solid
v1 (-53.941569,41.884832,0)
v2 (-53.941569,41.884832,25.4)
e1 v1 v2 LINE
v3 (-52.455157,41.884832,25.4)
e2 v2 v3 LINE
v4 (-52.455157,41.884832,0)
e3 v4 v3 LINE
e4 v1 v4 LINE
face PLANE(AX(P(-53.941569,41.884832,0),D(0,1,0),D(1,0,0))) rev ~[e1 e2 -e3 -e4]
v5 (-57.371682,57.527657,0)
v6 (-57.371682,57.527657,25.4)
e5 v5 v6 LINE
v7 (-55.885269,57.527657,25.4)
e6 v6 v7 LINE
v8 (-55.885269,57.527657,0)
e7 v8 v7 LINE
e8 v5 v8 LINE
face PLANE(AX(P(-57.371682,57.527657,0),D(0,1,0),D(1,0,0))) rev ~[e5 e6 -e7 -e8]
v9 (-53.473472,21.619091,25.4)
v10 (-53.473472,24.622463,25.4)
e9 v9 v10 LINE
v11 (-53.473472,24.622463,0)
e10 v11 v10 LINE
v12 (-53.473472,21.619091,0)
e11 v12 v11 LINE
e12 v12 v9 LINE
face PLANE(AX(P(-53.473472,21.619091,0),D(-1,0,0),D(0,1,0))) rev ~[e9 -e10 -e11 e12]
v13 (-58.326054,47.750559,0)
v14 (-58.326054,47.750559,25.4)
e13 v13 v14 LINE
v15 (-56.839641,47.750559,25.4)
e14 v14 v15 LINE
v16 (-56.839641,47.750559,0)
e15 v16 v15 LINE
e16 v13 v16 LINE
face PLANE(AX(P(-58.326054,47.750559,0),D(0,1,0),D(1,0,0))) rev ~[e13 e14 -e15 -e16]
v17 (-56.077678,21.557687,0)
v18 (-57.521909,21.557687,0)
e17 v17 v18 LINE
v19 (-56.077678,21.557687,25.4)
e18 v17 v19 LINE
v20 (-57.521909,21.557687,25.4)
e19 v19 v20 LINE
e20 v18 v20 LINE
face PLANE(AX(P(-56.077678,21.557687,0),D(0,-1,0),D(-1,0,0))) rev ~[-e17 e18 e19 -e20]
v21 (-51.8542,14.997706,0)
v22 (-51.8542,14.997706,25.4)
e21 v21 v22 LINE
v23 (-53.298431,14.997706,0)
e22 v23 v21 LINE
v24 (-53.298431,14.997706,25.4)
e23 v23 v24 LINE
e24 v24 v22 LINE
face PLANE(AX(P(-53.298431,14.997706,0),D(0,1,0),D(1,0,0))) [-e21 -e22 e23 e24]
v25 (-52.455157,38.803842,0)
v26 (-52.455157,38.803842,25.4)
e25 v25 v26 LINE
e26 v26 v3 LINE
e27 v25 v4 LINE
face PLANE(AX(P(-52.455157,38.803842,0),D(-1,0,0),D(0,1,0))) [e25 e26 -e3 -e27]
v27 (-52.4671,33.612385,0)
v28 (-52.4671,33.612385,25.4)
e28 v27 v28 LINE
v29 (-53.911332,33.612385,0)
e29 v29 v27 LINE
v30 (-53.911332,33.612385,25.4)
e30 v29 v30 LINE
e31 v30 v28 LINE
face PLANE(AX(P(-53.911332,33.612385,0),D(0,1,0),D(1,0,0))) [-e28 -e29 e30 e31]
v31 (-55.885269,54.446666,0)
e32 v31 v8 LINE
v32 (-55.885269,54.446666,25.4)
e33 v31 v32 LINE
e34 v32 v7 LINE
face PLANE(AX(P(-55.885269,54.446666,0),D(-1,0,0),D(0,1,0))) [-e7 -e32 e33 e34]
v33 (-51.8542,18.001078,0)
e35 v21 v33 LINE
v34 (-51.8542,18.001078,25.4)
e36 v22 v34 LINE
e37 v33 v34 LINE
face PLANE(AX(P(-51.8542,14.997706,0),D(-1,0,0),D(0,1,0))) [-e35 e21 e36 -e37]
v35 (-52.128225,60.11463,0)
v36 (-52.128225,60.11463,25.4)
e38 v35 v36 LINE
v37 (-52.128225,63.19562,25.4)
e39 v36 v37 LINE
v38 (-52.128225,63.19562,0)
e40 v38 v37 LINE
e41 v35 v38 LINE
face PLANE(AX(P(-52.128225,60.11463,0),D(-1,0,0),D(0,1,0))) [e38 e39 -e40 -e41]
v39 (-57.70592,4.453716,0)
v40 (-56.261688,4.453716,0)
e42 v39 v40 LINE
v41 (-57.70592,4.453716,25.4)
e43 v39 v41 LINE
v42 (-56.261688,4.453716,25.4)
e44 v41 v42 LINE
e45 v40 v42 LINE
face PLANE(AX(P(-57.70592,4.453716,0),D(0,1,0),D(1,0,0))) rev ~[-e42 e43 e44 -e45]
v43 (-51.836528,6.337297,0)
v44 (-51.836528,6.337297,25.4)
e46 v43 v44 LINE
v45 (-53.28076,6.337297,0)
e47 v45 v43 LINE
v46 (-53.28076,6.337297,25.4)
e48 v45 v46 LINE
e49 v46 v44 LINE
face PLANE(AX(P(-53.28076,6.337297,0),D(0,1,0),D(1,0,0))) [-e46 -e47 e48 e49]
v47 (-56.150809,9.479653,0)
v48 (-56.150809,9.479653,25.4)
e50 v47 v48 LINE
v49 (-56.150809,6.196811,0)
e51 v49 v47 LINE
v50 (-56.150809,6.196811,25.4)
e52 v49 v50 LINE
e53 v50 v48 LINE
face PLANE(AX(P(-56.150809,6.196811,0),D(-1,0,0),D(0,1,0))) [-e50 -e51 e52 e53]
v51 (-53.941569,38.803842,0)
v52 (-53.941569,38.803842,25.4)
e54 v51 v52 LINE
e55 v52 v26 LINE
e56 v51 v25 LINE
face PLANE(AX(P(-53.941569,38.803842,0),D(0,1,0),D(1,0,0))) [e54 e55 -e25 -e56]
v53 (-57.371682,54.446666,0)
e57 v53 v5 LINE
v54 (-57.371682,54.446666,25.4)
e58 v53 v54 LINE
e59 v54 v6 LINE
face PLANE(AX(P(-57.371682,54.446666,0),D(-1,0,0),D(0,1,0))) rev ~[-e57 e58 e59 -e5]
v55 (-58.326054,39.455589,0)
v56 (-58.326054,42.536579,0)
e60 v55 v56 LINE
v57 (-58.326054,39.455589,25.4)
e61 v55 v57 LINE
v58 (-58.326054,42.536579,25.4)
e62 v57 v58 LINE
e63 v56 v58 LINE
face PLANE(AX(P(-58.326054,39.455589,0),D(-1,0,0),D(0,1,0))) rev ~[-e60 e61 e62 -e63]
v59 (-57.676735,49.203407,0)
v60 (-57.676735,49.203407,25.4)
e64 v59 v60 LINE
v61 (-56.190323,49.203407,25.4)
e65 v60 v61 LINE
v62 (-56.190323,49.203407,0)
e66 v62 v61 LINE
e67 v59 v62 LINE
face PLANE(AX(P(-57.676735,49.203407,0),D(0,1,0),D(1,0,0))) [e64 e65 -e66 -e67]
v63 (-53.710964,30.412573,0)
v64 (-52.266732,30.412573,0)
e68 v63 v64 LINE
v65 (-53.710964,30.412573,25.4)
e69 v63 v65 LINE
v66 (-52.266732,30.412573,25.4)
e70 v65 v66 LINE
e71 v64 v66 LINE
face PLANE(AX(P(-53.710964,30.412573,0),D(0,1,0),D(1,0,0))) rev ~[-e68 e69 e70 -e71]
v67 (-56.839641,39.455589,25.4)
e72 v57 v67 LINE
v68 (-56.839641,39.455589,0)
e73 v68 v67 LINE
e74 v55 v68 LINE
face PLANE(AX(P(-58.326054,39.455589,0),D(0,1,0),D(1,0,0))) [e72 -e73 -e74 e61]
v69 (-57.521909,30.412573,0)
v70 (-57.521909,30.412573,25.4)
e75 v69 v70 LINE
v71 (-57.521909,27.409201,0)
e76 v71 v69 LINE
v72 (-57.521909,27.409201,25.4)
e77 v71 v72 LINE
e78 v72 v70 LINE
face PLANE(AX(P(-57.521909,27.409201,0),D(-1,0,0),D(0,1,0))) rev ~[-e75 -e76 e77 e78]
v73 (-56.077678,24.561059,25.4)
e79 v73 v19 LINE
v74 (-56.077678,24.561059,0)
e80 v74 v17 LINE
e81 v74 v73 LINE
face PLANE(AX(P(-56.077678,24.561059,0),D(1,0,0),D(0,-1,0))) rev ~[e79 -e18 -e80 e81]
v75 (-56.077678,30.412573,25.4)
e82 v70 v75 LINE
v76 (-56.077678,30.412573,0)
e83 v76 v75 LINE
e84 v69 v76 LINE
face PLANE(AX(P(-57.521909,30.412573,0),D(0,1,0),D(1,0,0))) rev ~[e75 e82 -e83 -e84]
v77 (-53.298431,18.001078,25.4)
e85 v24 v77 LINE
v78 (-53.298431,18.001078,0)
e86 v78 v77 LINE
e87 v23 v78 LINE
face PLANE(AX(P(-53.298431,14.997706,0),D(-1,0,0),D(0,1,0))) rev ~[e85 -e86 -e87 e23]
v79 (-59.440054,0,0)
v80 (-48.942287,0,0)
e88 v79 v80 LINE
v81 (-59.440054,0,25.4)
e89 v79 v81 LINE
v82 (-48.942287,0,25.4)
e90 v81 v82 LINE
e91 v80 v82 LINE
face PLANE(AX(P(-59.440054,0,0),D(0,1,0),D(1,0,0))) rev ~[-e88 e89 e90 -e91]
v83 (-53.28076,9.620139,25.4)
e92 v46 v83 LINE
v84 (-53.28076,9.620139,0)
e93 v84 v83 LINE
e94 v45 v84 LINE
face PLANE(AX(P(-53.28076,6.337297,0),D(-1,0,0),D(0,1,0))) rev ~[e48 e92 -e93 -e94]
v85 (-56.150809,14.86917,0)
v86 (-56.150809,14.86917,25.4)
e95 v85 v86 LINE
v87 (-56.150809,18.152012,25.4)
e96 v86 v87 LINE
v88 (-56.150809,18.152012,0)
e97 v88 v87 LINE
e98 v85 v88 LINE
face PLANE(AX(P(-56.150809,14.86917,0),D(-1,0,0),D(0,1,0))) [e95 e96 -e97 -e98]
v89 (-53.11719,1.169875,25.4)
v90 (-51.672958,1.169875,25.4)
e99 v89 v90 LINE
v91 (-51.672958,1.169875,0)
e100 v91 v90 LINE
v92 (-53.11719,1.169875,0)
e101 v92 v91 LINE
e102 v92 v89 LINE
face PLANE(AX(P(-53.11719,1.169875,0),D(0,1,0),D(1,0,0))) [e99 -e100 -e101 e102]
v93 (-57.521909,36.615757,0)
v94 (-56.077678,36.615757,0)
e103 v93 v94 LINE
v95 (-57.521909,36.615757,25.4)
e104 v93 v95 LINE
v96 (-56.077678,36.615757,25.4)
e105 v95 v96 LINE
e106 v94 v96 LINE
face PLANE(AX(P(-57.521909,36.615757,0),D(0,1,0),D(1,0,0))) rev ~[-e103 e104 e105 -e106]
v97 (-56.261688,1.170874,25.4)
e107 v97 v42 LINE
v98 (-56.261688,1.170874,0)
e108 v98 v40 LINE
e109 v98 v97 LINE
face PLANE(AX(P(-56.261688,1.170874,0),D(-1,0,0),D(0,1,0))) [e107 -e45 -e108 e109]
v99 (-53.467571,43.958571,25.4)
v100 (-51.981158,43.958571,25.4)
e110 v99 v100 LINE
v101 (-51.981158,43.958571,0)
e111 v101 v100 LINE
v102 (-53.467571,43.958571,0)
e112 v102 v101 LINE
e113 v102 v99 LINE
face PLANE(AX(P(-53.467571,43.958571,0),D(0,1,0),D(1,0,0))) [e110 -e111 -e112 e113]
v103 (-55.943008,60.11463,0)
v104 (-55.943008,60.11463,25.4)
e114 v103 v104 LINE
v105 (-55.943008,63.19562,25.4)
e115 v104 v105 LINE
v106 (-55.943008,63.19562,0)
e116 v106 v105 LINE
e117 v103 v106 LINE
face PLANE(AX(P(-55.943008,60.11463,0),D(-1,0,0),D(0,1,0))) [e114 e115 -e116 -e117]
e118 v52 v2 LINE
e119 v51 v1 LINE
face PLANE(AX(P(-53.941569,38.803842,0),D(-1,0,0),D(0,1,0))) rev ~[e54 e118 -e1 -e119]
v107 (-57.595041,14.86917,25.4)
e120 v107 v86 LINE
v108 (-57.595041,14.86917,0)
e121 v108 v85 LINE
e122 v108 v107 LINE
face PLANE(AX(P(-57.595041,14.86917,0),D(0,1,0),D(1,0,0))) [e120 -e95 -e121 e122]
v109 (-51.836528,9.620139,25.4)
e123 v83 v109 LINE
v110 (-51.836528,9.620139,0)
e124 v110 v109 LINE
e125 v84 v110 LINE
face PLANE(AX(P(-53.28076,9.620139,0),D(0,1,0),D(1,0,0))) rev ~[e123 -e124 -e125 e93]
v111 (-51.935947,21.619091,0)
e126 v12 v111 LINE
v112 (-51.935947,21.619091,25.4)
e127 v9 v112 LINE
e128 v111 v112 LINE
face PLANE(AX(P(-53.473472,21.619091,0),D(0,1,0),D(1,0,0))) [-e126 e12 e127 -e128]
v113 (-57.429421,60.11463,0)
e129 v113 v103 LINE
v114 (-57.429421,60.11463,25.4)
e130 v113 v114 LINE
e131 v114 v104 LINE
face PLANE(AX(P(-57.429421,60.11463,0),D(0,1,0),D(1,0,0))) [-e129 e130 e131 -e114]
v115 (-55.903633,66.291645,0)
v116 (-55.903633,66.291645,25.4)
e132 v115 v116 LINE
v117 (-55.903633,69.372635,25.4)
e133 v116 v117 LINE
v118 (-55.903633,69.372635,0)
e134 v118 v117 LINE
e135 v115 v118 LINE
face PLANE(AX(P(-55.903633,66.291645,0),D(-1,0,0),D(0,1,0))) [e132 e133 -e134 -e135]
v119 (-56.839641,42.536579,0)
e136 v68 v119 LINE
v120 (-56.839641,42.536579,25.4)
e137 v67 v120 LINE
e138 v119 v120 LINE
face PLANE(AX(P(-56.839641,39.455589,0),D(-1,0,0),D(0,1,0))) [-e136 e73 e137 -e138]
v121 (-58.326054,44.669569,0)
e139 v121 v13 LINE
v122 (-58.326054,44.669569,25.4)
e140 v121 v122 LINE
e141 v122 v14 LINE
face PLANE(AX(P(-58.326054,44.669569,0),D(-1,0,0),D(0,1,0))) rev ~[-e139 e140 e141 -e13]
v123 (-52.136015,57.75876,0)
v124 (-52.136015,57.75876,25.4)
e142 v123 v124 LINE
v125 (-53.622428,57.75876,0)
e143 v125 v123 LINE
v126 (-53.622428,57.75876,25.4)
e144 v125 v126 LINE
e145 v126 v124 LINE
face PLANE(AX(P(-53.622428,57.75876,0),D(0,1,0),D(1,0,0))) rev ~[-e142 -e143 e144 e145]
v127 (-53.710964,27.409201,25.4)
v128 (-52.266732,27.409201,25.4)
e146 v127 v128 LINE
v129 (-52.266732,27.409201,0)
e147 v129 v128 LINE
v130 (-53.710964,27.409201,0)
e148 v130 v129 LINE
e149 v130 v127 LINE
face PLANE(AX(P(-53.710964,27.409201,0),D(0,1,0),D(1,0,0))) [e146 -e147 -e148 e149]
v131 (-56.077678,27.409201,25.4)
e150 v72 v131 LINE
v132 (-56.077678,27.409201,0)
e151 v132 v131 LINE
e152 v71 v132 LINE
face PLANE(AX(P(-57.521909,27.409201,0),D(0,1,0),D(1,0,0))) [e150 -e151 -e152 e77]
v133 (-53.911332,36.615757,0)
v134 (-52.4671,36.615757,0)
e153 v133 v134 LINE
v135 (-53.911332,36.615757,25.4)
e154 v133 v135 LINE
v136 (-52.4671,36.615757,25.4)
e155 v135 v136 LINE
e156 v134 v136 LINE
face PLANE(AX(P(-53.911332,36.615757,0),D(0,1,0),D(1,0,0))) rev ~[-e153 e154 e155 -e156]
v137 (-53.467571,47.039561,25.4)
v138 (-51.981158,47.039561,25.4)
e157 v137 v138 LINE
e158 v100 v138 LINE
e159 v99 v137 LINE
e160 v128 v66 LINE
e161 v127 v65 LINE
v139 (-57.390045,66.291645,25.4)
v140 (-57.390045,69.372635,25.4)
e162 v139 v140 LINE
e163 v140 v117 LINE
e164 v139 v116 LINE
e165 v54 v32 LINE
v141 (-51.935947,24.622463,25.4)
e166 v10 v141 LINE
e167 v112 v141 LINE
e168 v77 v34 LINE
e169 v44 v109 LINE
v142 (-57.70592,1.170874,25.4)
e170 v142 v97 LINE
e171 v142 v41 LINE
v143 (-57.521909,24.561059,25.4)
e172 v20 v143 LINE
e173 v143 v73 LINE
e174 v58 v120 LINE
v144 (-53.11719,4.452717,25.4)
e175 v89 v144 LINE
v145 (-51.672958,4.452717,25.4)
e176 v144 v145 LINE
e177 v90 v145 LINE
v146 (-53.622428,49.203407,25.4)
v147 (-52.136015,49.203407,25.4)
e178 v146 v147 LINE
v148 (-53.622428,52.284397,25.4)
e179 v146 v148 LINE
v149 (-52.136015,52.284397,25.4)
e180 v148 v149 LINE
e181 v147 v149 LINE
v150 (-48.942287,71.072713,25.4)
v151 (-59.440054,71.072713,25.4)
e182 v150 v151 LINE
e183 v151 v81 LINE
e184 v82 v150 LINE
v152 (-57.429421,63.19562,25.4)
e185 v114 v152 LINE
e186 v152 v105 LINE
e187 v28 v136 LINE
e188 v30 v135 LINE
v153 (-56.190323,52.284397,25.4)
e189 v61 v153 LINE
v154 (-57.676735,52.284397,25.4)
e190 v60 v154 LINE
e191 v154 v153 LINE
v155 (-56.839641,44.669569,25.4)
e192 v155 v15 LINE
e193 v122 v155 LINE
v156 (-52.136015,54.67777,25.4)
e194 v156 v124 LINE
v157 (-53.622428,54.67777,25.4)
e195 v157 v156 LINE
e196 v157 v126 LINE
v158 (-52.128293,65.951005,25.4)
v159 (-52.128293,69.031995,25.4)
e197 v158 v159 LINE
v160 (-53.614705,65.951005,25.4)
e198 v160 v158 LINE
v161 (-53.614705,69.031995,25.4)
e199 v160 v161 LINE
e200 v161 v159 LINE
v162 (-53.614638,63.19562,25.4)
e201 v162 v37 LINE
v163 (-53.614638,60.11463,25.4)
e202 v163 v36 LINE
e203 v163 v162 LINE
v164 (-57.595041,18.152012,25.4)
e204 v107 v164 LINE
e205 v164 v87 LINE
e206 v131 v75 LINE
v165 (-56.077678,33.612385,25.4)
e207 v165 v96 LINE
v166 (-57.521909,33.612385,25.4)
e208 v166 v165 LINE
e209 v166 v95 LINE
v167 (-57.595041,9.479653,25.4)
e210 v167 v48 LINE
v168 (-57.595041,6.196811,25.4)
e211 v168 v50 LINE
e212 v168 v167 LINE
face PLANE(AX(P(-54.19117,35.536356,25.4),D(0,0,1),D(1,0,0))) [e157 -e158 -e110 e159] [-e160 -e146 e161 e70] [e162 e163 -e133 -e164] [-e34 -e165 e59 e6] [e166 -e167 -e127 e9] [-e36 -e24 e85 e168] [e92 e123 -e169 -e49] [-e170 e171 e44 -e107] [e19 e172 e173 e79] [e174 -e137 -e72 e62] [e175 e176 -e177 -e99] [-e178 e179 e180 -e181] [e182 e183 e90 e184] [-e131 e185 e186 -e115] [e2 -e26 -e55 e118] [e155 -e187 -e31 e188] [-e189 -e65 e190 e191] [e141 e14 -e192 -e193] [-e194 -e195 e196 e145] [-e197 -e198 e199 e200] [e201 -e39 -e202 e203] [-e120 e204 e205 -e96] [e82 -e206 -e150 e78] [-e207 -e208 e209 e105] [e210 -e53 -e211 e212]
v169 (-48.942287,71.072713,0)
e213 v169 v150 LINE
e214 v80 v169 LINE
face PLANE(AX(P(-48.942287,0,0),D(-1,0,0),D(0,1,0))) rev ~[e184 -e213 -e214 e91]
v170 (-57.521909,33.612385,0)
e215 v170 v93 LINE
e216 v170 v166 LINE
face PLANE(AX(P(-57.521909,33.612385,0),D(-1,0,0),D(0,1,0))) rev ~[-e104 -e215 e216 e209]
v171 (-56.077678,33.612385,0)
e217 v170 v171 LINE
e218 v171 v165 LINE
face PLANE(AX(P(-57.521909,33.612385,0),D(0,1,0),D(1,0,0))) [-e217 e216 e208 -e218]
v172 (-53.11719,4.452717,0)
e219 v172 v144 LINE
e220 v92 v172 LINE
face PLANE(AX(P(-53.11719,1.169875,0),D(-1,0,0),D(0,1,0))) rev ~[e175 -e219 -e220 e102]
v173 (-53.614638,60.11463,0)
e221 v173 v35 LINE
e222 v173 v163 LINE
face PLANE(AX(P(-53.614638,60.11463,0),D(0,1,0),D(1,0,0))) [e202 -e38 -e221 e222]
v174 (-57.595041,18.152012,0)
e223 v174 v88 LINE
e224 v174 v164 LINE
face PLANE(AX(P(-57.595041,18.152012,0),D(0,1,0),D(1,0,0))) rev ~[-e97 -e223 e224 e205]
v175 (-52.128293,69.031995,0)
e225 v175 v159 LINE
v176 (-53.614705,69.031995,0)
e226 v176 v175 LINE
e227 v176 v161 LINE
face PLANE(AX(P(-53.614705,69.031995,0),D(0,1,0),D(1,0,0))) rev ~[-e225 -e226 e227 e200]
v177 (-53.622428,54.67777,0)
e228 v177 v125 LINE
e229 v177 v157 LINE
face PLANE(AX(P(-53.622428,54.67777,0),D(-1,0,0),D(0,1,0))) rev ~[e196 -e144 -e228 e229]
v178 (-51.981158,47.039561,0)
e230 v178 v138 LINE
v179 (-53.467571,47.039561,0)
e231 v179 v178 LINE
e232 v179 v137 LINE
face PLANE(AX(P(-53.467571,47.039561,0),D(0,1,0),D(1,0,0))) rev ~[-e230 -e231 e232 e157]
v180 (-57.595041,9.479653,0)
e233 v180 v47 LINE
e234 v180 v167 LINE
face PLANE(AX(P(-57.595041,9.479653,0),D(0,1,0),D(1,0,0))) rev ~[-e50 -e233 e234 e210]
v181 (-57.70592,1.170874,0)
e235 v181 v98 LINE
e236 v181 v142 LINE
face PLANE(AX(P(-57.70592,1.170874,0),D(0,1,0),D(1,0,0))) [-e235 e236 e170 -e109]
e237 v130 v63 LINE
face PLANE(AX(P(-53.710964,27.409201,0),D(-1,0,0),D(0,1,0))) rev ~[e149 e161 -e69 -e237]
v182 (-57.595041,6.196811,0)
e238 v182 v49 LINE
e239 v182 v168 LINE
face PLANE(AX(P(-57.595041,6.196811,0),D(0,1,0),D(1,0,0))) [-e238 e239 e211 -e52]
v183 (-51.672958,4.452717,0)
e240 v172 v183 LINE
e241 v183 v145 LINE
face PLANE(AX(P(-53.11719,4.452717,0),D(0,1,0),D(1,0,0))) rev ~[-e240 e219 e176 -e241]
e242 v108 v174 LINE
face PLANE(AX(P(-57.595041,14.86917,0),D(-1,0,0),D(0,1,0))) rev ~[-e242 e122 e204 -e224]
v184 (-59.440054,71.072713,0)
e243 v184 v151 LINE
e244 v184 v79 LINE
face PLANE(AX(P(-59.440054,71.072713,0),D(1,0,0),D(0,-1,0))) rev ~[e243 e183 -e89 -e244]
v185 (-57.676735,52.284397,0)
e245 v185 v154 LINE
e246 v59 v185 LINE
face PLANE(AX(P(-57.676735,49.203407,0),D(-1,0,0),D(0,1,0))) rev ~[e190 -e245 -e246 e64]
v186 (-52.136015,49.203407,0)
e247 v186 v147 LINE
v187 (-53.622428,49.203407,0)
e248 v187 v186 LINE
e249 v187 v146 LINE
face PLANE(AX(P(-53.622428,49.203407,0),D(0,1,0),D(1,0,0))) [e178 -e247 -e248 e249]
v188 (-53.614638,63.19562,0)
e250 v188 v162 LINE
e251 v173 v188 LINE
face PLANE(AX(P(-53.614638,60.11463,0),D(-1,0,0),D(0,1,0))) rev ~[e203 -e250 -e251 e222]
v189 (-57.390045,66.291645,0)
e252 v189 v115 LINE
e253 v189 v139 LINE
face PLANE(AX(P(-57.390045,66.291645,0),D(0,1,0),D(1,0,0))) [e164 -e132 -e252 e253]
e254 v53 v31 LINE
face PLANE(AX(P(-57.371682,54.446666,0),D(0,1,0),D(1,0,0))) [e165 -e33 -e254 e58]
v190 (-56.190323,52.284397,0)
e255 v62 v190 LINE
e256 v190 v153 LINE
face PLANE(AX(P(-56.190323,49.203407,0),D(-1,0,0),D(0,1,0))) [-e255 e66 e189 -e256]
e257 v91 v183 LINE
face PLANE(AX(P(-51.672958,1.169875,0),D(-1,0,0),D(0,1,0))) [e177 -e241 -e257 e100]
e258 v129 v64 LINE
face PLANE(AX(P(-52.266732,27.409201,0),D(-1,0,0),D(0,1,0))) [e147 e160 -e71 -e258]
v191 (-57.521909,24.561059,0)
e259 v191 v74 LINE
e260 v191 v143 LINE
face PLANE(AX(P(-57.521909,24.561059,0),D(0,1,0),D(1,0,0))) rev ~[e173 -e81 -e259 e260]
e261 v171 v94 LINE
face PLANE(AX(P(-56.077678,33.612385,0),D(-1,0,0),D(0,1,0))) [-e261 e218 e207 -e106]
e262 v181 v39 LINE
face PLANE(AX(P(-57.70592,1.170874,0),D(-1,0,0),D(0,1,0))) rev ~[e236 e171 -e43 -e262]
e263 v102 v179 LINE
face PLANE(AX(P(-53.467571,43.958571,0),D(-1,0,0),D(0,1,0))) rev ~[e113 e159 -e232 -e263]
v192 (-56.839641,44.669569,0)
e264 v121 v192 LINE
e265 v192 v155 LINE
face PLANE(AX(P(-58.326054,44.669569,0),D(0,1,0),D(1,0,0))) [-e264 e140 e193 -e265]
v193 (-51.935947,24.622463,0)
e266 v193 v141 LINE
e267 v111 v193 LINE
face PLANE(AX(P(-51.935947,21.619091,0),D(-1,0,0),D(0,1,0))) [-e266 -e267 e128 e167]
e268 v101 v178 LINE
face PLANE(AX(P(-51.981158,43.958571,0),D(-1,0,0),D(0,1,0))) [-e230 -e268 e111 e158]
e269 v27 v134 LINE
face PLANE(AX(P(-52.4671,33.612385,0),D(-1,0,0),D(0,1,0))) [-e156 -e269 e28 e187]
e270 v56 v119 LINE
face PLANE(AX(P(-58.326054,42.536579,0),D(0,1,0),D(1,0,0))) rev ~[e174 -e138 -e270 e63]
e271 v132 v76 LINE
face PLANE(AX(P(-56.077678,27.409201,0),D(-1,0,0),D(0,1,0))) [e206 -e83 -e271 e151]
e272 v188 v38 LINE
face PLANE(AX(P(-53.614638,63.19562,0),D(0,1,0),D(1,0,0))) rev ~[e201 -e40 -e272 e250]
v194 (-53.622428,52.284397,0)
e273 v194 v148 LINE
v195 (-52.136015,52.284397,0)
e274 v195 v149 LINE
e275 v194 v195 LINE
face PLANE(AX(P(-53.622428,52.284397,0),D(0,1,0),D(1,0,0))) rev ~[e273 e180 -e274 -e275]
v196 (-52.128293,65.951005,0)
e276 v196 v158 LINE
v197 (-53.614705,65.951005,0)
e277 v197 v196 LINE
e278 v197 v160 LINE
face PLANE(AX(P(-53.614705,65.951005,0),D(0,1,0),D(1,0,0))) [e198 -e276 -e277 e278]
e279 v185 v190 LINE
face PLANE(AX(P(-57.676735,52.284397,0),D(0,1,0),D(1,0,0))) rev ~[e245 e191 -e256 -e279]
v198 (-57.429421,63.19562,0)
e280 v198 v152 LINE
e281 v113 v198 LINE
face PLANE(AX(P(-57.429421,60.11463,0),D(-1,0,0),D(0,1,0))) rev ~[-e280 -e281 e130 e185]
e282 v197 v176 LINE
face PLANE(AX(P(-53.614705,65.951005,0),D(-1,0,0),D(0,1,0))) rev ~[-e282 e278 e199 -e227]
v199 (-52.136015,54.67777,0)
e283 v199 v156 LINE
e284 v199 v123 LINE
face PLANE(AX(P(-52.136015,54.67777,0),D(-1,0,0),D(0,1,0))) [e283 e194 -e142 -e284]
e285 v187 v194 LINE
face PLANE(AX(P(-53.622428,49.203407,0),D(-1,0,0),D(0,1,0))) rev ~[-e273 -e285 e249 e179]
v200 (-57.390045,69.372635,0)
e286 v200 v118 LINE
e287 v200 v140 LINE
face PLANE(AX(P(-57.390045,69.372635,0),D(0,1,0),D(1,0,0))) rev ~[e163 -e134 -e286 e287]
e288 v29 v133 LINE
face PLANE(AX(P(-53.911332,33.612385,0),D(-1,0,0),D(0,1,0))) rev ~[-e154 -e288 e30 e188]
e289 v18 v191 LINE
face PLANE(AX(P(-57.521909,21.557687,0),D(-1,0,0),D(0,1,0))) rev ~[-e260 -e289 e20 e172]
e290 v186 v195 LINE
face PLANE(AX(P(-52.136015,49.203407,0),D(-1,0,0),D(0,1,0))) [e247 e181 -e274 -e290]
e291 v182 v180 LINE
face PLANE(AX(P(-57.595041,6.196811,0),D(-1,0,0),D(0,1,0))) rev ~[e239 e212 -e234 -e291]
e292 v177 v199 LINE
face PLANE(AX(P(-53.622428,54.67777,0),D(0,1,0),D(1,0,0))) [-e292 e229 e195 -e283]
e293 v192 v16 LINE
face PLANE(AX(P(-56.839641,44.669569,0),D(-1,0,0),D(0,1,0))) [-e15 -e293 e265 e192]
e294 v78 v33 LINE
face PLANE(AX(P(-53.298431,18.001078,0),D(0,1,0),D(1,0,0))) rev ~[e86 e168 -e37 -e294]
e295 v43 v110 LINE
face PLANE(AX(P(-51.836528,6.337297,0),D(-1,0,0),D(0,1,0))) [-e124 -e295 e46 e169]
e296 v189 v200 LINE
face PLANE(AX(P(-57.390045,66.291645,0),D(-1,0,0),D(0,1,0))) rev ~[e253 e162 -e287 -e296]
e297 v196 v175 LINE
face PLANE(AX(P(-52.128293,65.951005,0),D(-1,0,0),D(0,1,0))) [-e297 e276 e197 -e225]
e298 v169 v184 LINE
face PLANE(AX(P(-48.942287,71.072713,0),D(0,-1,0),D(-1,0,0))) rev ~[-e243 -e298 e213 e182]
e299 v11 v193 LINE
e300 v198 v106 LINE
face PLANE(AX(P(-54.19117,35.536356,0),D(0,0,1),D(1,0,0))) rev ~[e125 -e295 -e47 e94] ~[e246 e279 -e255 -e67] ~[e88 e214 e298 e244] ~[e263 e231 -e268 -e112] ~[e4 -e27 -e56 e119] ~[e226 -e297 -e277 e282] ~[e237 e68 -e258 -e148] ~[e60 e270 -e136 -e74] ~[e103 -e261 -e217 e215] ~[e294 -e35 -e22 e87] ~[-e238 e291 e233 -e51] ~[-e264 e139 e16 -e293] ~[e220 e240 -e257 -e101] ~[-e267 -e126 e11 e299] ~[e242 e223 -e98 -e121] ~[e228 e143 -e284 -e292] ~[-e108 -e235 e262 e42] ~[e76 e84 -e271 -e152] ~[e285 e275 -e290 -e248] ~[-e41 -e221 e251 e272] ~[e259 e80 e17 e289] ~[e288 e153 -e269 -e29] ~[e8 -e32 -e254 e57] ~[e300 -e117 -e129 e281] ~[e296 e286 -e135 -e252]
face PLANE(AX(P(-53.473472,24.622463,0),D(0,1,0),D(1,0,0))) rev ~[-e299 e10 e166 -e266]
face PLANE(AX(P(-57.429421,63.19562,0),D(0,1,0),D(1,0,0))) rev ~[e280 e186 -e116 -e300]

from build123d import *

# Parameters (mm, degrees)
F0_W     = 1.444232
F0_H     = 3.282842
F0_W_2   = 1.444231
F0_H_2   = 3.003372
F0_W_3   = 1.537525
F0_W_4   = 1.486413
F0_H_3   = 3.08099
F0_H_4   = 3.080991
F1_DEPTH = 25.4


with BuildPart() as f1:
    # F0 (on Top) → F1 (new body)
    with BuildSketch(Plane.XY):
        Polygon((-48.942287, 71.072713), (-59.440054, 71.072713), (-59.440054, 0), (-57.754032, 0), (-55.809505, 0), (-52.57833, 0), (-50.541282, 0), (-48.942287, 0), align=None)
        with Locations((-56.983804, 2.812295)):
            Rectangle(F0_W, F0_H, mode=Mode.SUBTRACT)
        with Locations((-56.872925, 7.838232)):
            Rectangle(F0_W, F0_H, mode=Mode.SUBTRACT)
        with Locations((-56.872925, 16.510591)):
            Rectangle(F0_W, F0_H, mode=Mode.SUBTRACT)
        Polygon((-57.521909, 24.464175), (-57.521909, 24.561059), (-56.077678, 24.561059), (-56.077678, 24.464175), (-56.077678, 21.557687), (-57.521909, 21.557687), align=None, mode=Mode.SUBTRACT)
        with Locations((-56.799793, 28.910887)):
            Rectangle(F0_W_2, F0_H_2, mode=Mode.SUBTRACT)
        with Locations((-56.799793, 35.114071)):
            Rectangle(F0_W_2, F0_H_2, mode=Mode.SUBTRACT)
        with Locations((-52.395074, 2.811296)):
            Rectangle(F0_W, F0_H, mode=Mode.SUBTRACT)
        with Locations((-52.558644, 7.978718)):
            Rectangle(F0_W, F0_H, mode=Mode.SUBTRACT)
        with Locations((-52.576316, 16.499392)):
            Rectangle(F0_W_2, F0_H_2, mode=Mode.SUBTRACT)
        with Locations((-52.70471, 23.120777)):
            Rectangle(F0_W_3, F0_H_2, mode=Mode.SUBTRACT)
        with Locations((-52.988848, 28.910887)):
            Rectangle(F0_W, F0_H_2, mode=Mode.SUBTRACT)
        with Locations((-53.189216, 35.114071)):
            Rectangle(F0_W, F0_H_2, mode=Mode.SUBTRACT)
        with Locations((-57.582847, 40.996084)):
            Rectangle(F0_W_4, F0_H_3, mode=Mode.SUBTRACT)
        with Locations((-57.582847, 46.210064)):
            Rectangle(F0_W_4, F0_H_3, mode=Mode.SUBTRACT)
        with Locations((-56.933529, 50.743902)):
            Rectangle(F0_W_4, F0_H_3, mode=Mode.SUBTRACT)
        with Locations((-56.628476, 55.987162)):
            Rectangle(F0_W_4, F0_H_4, mode=Mode.SUBTRACT)
        with Locations((-56.686215, 61.655125)):
            Rectangle(F0_W_4, F0_H_3, mode=Mode.SUBTRACT)
        with Locations((-56.646839, 67.83214)):
            Rectangle(F0_W_4, F0_H_3, mode=Mode.SUBTRACT)
        with Locations((-53.198363, 40.344337)):
            Rectangle(F0_W_4, F0_H_3, mode=Mode.SUBTRACT)
        with Locations((-52.879221, 50.743902)):
            Rectangle(F0_W_4, F0_H_3, mode=Mode.SUBTRACT)
        with Locations((-52.724365, 45.499066)):
            Rectangle(F0_W_4, F0_H_3, mode=Mode.SUBTRACT)
        with Locations((-52.879221, 56.218265)):
            Rectangle(F0_W_4, F0_H_3, mode=Mode.SUBTRACT)
        with Locations((-52.871432, 61.655125)):
            Rectangle(F0_W_4, F0_H_3, mode=Mode.SUBTRACT)
        with Locations((-52.871499, 67.4915)):
            Rectangle(F0_W_4, F0_H_3, mode=Mode.SUBTRACT)
    extrude(amount=F1_DEPTH)


solid = f1.part
